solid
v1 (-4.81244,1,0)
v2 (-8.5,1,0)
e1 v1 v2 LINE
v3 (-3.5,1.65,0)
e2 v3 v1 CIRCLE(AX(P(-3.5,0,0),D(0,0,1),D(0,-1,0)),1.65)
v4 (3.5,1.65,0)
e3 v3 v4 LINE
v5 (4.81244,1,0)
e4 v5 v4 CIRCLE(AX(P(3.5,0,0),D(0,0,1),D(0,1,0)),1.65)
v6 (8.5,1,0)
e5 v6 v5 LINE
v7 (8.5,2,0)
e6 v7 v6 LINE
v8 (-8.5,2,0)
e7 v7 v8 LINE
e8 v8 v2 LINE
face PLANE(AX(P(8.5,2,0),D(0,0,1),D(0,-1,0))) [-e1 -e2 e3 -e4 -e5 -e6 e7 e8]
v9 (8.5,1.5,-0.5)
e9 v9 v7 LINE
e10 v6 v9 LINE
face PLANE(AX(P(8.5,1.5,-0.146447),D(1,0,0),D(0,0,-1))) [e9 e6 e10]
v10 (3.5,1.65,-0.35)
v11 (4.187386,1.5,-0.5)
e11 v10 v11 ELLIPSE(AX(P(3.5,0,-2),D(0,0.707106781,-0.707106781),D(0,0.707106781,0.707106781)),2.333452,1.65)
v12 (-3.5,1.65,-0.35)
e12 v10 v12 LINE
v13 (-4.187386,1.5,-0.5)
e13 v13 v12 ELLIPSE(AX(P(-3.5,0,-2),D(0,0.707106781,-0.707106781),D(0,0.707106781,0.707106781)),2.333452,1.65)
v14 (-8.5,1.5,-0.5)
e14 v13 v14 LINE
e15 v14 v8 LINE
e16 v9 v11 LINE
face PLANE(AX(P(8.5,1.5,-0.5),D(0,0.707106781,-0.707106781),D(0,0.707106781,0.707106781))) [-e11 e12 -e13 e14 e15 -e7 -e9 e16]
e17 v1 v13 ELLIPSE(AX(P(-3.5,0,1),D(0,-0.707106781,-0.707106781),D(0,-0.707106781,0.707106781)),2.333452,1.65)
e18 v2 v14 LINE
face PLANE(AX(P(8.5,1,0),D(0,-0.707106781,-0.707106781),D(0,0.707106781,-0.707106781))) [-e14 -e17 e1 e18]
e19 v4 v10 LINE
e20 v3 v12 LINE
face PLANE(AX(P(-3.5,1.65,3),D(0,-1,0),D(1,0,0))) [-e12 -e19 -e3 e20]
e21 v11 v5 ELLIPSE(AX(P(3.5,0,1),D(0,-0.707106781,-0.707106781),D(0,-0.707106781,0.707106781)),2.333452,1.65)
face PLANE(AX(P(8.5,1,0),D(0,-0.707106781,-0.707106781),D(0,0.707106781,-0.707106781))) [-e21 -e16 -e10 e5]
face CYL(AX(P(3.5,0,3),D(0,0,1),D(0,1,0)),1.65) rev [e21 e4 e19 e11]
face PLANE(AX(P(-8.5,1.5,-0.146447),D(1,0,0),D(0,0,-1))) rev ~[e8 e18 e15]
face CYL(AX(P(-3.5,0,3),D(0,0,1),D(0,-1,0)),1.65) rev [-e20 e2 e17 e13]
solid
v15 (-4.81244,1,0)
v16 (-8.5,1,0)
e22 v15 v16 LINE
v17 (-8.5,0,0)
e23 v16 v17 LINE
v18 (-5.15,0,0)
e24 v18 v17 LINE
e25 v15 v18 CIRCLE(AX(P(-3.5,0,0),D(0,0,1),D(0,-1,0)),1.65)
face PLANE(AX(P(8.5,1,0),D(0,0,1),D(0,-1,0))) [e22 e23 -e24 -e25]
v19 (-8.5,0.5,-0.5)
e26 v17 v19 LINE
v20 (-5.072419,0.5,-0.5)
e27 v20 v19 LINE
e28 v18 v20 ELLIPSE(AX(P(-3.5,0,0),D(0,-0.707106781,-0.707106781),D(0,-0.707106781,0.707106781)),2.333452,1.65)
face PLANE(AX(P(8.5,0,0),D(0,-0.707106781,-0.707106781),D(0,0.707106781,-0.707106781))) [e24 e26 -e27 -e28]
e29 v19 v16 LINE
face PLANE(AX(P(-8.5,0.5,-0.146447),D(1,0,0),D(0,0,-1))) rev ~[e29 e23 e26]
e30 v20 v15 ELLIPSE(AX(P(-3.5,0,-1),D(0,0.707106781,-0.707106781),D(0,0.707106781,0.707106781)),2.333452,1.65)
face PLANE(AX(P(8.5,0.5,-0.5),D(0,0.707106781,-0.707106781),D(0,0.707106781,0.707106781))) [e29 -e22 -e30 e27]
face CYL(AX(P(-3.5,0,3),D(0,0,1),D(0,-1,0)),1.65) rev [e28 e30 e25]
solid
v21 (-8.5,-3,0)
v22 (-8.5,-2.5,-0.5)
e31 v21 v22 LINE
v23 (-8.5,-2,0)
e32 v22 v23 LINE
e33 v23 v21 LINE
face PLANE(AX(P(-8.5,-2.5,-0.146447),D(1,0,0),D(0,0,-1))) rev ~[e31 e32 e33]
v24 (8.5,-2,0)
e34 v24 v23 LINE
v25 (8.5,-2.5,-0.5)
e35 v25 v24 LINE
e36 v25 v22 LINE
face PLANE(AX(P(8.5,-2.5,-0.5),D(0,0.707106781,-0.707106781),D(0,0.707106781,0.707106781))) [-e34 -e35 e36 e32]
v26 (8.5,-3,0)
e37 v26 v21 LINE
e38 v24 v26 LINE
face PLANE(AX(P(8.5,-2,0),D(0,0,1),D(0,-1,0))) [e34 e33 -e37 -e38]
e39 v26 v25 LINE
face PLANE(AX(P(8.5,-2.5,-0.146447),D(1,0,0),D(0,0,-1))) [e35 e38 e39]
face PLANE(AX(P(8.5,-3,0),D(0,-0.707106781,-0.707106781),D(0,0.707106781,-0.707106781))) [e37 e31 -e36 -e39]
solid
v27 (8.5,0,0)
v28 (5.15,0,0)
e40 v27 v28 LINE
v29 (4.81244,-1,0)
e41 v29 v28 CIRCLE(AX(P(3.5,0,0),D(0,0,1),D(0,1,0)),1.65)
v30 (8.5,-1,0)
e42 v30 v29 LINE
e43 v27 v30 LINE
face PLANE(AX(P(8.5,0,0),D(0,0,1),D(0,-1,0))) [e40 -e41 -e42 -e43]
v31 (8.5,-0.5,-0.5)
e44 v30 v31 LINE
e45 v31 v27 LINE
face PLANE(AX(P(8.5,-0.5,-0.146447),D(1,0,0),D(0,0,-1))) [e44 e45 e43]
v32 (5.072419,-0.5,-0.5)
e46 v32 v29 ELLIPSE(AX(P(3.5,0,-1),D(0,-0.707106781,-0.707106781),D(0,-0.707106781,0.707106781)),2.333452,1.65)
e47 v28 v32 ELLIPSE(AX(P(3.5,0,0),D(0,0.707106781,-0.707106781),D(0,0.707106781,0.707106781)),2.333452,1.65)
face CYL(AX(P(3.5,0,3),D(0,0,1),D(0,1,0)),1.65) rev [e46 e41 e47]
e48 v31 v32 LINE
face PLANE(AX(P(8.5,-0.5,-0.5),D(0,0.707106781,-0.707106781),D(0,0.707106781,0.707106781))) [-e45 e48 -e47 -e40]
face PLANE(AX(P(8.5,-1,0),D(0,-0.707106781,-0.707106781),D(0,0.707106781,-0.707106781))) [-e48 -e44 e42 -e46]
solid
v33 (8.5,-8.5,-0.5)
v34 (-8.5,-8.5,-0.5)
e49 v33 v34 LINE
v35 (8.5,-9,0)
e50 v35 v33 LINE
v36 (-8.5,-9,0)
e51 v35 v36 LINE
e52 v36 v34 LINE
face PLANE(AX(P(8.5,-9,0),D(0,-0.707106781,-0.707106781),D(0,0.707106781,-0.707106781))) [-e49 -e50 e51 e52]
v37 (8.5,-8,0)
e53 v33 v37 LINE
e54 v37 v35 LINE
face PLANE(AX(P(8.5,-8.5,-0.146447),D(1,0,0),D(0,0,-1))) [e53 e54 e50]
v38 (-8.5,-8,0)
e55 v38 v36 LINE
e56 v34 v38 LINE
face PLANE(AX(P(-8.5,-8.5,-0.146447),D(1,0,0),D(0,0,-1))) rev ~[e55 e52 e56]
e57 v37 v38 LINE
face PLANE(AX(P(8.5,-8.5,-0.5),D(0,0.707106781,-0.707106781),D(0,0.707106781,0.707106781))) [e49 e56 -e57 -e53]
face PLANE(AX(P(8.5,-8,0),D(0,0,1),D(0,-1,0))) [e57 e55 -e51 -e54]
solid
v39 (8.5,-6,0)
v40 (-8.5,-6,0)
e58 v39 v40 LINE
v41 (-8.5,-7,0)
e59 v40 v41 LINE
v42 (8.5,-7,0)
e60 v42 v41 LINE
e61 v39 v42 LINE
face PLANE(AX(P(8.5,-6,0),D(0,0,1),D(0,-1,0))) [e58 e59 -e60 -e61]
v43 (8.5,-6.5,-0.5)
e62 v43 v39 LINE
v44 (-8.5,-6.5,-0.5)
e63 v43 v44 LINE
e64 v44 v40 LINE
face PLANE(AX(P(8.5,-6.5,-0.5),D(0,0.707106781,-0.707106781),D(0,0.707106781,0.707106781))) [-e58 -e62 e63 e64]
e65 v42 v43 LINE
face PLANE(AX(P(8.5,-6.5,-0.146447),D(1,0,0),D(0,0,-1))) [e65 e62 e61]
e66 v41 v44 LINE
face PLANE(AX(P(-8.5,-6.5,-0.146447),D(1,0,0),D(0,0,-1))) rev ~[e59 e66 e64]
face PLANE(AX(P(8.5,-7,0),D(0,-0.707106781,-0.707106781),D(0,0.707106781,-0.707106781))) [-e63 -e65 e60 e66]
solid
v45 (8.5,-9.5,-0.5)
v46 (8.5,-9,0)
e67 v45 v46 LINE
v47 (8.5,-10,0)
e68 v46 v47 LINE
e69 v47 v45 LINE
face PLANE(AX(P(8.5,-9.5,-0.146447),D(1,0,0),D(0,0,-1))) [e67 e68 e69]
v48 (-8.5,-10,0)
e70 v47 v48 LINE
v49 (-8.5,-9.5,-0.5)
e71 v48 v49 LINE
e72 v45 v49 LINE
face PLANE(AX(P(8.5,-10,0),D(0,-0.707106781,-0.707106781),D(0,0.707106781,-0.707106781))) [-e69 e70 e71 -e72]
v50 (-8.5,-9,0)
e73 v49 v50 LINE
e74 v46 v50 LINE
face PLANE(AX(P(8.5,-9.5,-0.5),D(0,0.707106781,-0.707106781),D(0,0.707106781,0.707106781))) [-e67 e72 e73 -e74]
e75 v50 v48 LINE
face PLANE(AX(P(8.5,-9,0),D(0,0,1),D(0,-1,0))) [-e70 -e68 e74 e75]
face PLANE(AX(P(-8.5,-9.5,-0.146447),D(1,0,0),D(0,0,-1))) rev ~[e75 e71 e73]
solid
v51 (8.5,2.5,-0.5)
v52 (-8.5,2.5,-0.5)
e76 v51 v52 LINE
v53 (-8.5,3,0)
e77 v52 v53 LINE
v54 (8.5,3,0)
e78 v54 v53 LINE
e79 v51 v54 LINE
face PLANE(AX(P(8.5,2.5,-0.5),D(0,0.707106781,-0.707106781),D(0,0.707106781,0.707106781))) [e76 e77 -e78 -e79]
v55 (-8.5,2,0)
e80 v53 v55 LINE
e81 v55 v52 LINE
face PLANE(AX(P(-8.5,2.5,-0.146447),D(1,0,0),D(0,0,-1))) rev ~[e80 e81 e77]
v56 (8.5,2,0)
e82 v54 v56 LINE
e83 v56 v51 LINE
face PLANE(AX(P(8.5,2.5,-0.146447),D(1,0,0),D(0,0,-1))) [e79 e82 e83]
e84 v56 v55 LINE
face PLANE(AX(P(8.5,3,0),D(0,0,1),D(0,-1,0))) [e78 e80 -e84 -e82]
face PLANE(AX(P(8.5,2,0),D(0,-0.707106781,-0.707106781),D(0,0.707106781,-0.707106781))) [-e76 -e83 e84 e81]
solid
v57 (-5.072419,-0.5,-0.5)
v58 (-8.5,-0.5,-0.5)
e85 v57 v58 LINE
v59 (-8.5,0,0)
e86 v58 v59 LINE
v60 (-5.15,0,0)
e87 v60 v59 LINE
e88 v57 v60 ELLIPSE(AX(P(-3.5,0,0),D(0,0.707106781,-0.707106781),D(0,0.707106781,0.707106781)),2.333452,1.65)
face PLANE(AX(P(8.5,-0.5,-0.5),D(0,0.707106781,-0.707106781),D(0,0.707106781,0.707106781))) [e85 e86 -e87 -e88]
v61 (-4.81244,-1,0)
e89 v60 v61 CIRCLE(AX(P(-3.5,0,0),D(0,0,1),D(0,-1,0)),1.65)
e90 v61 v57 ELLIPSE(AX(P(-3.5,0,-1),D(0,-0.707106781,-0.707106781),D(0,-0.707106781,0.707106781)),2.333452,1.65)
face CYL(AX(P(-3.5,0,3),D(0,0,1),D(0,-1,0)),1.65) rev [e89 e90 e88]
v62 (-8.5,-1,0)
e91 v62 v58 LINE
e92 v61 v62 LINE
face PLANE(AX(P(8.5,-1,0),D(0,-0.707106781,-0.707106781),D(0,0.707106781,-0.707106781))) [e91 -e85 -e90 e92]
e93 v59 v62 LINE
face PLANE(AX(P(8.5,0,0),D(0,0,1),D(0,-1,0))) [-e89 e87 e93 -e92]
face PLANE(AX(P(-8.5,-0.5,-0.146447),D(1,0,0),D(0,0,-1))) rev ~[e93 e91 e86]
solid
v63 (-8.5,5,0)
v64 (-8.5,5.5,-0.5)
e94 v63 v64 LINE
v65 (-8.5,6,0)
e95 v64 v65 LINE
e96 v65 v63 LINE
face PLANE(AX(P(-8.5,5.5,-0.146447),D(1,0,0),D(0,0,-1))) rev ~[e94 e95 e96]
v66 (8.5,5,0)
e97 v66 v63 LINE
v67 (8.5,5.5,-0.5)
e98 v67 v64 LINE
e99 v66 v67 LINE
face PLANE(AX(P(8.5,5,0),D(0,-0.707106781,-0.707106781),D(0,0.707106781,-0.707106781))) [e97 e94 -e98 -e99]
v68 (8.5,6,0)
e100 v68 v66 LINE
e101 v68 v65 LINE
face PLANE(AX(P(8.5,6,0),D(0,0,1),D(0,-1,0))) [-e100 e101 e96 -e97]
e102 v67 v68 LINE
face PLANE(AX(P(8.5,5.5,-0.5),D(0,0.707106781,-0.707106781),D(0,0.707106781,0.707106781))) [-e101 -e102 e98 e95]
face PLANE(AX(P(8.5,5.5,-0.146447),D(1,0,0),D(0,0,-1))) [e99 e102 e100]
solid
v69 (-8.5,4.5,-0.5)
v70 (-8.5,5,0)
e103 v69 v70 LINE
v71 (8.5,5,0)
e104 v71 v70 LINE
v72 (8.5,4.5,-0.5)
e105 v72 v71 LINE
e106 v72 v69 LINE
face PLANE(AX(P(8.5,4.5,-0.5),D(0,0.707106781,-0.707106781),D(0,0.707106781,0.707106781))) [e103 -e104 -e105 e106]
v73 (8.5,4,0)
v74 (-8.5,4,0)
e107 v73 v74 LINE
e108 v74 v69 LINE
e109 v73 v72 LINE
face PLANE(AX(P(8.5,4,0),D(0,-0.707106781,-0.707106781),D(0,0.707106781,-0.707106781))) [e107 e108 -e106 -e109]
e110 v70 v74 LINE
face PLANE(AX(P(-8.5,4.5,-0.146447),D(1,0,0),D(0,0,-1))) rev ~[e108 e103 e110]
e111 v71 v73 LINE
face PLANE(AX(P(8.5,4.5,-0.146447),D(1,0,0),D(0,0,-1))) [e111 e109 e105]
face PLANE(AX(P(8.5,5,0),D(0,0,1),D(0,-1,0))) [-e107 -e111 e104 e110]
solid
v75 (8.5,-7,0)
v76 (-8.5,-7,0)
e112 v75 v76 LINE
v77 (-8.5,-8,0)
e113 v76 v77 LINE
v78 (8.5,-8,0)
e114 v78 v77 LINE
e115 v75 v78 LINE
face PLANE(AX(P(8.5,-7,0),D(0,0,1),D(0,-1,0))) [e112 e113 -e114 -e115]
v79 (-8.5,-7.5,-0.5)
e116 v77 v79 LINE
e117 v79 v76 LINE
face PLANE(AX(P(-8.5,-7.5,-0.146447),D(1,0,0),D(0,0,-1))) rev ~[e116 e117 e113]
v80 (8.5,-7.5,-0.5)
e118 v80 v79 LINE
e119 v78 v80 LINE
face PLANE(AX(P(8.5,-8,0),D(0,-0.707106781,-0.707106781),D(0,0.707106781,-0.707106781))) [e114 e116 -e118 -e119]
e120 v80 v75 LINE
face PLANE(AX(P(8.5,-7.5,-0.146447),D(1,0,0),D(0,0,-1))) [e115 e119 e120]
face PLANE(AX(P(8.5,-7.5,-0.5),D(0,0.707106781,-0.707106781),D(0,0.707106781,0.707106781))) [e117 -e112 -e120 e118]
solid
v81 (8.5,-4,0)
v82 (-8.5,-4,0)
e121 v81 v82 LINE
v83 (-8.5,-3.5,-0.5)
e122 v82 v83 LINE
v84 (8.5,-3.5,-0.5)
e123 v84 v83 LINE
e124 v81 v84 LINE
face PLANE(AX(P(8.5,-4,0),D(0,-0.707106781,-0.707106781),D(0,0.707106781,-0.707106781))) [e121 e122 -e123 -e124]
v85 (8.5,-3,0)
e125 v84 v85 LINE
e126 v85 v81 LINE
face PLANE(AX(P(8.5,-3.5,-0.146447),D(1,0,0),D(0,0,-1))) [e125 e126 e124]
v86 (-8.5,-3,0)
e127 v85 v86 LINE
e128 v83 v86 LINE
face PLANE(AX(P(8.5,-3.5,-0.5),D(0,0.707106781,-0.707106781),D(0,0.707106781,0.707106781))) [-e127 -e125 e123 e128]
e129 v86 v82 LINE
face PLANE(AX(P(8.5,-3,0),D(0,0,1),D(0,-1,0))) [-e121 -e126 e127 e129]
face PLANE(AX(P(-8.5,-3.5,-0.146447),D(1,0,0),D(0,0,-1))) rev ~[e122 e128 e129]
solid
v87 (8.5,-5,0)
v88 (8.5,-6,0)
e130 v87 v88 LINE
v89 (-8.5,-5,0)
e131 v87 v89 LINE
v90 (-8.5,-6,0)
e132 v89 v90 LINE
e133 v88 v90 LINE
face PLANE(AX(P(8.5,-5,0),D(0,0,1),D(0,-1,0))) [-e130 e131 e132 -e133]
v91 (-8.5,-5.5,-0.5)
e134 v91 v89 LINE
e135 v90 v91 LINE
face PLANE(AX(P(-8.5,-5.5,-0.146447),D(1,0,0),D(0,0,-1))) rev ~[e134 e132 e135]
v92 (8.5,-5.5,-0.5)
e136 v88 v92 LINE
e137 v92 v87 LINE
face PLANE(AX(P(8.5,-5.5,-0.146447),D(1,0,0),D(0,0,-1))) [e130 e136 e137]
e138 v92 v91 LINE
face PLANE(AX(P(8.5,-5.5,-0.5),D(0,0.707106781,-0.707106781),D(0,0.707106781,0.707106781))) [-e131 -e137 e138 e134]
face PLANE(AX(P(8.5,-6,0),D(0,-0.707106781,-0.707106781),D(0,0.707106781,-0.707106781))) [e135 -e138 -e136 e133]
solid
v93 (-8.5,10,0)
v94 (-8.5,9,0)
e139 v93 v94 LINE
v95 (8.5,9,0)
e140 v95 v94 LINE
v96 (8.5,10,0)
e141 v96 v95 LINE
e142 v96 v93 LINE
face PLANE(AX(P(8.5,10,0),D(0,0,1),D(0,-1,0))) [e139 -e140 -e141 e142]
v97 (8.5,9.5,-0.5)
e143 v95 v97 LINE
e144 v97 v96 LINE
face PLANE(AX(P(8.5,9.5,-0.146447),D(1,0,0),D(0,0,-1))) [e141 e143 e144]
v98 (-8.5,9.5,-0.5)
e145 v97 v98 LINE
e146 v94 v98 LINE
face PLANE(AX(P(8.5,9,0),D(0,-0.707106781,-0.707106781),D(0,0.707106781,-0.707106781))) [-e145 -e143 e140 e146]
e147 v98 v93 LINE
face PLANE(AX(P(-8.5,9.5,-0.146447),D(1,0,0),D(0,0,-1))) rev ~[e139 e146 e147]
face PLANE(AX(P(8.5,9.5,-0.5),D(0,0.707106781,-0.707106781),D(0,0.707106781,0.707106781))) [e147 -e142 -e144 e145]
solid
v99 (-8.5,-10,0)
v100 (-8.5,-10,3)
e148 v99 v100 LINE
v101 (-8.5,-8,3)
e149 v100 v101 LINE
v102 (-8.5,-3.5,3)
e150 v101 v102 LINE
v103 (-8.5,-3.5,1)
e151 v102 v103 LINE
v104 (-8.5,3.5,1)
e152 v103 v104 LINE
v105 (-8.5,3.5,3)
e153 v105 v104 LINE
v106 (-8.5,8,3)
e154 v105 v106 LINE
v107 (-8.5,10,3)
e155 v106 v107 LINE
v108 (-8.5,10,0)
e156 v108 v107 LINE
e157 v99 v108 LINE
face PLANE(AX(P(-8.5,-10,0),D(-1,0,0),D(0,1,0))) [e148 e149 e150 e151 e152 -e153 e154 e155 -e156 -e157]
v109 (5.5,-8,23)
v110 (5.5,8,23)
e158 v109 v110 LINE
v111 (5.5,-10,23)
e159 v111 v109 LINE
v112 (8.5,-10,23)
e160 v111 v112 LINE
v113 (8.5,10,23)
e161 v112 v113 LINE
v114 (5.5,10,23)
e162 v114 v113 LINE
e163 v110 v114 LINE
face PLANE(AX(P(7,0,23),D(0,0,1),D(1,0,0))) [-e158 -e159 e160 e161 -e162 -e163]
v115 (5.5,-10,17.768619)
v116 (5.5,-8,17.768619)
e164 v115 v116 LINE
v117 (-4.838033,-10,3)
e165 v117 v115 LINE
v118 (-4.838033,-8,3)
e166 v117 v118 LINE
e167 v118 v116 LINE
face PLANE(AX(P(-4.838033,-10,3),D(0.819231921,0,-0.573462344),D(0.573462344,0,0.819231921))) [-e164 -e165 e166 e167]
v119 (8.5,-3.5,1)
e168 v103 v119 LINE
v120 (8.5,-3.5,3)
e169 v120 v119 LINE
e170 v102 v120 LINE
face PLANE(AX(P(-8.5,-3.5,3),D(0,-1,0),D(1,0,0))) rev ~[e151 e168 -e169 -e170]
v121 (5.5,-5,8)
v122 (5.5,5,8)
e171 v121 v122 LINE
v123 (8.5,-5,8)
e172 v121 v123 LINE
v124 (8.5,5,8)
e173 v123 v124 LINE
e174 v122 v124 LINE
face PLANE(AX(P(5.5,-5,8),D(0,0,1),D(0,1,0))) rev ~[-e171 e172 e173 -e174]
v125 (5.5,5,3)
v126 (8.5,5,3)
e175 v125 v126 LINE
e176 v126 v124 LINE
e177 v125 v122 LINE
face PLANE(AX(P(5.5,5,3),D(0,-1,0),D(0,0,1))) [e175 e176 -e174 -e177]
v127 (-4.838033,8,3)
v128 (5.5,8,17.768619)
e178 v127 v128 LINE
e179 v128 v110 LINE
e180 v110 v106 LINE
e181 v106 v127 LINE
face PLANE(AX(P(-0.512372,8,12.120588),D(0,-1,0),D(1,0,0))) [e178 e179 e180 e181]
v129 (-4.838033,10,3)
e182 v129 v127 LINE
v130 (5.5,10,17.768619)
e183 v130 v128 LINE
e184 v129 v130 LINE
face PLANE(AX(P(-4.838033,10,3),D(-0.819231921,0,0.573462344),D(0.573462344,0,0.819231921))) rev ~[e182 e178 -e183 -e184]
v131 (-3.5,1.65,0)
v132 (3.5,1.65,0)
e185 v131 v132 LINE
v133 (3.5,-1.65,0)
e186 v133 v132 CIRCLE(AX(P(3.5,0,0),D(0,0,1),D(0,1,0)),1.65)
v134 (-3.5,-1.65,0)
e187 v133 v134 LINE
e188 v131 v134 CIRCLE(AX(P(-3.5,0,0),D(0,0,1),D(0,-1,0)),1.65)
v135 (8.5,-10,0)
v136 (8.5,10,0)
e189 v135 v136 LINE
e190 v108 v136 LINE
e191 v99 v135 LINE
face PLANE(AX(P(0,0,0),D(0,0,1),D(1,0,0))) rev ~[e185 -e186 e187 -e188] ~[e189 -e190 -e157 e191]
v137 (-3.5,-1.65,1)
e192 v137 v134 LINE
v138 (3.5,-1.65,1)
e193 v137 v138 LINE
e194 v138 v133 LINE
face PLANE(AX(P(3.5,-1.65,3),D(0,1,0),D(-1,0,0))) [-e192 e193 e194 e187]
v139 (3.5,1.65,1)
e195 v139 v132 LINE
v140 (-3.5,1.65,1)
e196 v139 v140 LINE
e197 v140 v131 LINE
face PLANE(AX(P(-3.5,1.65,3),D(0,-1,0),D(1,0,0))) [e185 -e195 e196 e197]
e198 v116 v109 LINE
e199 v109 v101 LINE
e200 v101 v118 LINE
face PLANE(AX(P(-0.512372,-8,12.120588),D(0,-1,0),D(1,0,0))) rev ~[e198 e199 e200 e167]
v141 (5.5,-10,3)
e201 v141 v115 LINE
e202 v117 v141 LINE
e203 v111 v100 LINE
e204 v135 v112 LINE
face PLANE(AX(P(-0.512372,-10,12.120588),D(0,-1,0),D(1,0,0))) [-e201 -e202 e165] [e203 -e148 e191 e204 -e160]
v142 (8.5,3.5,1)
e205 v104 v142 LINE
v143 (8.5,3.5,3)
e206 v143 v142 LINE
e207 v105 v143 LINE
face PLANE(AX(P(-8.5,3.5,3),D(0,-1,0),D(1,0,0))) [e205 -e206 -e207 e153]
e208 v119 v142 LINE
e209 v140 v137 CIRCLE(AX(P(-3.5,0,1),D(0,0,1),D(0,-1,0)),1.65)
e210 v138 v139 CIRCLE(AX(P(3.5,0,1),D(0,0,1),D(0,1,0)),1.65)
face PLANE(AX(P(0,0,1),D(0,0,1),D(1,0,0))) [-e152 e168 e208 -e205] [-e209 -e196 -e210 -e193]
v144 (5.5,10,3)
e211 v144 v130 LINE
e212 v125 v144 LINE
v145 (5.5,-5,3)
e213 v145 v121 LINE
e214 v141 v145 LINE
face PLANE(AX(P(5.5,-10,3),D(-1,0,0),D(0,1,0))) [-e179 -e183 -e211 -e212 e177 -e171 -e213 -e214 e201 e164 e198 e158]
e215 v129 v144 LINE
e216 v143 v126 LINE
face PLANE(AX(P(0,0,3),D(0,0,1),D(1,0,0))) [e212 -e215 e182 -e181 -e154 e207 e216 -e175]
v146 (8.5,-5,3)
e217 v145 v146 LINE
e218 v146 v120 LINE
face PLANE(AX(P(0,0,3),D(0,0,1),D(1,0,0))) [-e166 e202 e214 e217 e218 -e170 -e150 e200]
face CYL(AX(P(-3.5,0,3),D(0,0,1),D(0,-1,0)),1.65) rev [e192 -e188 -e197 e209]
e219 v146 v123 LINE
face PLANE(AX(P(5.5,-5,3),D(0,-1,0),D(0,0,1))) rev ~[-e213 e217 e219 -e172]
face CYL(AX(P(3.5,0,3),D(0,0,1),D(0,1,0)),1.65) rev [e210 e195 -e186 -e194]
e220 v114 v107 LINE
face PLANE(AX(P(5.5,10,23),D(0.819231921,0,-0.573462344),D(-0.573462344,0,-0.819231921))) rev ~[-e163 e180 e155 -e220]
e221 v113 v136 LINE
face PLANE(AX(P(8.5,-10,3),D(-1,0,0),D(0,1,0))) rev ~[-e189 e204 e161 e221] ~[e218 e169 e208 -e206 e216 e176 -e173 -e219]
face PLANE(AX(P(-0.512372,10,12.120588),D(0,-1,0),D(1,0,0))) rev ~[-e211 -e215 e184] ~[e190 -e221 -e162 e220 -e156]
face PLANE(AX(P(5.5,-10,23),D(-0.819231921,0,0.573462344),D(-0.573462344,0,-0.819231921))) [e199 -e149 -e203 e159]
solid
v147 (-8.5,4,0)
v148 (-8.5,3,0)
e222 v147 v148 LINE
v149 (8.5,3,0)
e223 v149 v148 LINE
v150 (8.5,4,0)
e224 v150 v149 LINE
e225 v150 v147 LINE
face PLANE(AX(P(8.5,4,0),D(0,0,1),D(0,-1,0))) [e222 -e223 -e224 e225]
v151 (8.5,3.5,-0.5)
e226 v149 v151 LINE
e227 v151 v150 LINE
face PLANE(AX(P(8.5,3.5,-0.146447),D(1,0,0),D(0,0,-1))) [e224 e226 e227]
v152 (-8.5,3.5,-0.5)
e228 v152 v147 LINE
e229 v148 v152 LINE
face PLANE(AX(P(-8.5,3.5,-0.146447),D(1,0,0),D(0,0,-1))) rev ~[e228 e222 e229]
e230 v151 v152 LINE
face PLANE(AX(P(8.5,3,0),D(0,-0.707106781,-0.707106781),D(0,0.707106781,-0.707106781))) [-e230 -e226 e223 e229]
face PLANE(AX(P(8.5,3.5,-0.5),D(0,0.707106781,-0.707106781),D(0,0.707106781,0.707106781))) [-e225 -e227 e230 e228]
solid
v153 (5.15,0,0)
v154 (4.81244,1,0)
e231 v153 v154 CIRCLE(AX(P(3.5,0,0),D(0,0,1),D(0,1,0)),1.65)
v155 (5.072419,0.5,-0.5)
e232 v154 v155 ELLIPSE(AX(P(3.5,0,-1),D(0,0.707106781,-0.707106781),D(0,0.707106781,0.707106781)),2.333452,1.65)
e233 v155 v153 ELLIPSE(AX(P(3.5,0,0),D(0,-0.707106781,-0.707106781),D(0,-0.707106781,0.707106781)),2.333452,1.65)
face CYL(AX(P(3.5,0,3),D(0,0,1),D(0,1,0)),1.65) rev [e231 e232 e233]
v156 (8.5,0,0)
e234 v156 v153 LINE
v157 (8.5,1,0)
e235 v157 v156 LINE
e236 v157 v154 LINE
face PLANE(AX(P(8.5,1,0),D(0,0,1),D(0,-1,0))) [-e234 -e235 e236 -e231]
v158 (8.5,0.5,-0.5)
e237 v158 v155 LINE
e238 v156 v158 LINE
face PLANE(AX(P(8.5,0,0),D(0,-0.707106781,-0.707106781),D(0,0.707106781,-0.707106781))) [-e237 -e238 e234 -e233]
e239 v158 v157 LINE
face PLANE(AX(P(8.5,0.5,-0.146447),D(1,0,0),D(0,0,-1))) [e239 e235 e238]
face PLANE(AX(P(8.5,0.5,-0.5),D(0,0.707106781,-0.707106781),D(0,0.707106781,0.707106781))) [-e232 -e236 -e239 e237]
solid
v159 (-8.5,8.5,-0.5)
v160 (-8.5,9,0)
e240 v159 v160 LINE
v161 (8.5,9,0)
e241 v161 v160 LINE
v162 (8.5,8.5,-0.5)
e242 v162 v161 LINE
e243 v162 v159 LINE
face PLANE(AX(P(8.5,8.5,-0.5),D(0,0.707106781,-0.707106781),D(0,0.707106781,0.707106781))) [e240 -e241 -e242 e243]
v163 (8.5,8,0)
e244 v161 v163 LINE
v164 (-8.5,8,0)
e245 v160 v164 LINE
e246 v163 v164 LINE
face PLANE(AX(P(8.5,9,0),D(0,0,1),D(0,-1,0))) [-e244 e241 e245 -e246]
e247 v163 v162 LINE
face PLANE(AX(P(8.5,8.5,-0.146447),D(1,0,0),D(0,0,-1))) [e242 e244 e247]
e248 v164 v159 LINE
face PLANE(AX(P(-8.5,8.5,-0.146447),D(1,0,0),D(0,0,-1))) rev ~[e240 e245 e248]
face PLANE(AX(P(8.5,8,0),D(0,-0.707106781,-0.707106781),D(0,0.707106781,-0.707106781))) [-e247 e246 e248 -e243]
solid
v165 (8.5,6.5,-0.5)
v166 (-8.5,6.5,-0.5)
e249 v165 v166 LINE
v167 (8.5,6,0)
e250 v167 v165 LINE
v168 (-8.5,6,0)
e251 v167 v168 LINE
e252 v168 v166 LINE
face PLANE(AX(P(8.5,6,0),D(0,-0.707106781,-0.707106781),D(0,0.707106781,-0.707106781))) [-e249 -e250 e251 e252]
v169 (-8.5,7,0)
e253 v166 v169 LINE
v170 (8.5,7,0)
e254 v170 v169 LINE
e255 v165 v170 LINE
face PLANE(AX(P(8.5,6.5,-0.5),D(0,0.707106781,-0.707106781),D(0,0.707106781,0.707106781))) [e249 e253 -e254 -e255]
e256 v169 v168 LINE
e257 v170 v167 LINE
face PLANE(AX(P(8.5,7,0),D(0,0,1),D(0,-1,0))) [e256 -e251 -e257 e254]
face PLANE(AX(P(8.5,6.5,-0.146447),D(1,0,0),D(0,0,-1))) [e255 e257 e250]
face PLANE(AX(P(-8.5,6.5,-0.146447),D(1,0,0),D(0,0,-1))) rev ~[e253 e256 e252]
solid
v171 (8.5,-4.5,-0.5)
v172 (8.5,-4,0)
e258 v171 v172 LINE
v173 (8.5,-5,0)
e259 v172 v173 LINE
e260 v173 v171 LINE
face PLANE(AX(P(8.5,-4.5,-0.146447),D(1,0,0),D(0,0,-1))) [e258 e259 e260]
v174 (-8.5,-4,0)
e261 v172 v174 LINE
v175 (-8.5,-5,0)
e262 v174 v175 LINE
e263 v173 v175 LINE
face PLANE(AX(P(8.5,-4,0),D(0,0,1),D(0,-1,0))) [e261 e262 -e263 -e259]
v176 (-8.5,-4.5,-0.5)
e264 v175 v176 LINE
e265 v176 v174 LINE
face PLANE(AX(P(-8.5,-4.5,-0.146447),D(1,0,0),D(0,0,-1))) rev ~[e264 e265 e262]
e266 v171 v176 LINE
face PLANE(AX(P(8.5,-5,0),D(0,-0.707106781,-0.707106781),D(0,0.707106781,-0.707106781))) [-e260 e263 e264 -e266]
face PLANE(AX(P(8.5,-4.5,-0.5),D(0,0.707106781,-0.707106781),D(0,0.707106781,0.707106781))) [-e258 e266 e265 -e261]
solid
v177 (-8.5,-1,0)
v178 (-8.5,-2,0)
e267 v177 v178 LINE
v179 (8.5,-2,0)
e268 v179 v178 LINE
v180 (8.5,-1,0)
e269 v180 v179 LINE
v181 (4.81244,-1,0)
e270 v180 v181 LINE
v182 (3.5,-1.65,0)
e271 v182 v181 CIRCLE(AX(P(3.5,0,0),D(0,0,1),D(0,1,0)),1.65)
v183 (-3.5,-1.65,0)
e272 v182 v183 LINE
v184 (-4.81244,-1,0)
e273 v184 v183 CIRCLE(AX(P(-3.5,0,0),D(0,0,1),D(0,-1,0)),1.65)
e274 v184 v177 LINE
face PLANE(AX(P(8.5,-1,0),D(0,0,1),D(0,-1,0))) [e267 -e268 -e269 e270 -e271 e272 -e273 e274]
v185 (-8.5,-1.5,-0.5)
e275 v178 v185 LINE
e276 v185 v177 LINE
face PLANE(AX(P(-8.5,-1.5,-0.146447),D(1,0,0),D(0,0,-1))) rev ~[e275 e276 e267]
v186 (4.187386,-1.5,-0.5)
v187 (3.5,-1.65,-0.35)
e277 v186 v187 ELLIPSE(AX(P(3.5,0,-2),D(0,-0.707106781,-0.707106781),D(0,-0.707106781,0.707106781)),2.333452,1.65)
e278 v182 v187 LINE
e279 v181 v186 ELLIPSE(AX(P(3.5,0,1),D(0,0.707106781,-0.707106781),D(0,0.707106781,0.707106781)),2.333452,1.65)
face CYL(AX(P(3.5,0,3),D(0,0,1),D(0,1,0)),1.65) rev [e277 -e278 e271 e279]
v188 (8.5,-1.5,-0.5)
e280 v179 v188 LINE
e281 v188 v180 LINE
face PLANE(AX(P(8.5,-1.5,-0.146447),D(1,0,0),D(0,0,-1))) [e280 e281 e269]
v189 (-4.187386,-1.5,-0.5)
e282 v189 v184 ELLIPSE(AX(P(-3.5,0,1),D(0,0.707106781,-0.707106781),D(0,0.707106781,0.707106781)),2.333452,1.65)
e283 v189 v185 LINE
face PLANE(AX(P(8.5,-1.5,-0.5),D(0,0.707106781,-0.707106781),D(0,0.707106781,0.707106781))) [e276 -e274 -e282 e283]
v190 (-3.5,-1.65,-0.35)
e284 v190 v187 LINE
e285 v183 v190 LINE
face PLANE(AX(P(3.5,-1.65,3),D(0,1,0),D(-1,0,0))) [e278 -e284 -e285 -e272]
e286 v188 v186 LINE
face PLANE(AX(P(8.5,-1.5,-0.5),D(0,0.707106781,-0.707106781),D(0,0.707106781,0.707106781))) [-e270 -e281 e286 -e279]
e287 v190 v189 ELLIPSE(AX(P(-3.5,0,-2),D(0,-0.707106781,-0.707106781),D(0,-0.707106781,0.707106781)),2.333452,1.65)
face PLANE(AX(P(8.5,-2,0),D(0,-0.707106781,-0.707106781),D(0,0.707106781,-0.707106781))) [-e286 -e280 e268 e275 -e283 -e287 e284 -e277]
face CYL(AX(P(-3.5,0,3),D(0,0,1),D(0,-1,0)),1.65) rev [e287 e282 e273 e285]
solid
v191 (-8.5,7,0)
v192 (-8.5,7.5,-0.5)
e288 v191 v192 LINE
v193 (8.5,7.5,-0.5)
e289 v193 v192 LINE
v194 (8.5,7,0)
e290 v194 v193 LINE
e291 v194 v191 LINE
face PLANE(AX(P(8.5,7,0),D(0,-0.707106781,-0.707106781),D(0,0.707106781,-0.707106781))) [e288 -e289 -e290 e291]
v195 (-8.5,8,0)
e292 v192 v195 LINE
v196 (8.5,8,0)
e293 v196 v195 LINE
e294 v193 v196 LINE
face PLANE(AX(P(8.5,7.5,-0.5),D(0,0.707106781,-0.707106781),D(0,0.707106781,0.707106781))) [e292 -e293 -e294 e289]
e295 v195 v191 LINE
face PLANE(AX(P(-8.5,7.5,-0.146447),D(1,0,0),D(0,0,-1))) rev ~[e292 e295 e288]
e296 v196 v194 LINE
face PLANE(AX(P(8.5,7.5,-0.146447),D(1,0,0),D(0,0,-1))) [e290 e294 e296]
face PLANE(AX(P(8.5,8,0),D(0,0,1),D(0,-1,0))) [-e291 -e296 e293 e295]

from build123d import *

# Parameters (mm, degrees)
SKETCH1_W              = 17
SKETCH1_H              = 20
BOSS_EXTRUDE1_DEPTH    = 3
SKETCH2_W              = 3
SKETCH2_H              = 20
BOSS_EXTRUDE2_DEPTH    = 20
BOSS_EXTRUDE3_DEPTH    = 2
BOSS_EXTRUDE4_START    = -20
BOSS_EXTRUDE4_DEPTH    = 2
SKETCH4_W              = 5
SKETCH4_H              = 10
CUT_EXTRUDE1_DEPTH     = 12
BOSS_EXTRUDE9_DEPTH    = 17
BOSS_EXTRUDE9_2_DEPTH  = 17
BOSS_EXTRUDE9_3_DEPTH  = 17
BOSS_EXTRUDE9_4_DEPTH  = 17
BOSS_EXTRUDE9_5_DEPTH  = 17
BOSS_EXTRUDE9_6_DEPTH  = 17
BOSS_EXTRUDE9_7_DEPTH  = 17
BOSS_EXTRUDE9_8_DEPTH  = 17
BOSS_EXTRUDE9_9_DEPTH  = 17
BOSS_EXTRUDE9_10_DEPTH = 17
BOSS_EXTRUDE9_11_DEPTH = 17
BOSS_EXTRUDE9_12_DEPTH = 17
BOSS_EXTRUDE9_13_DEPTH = 17
BOSS_EXTRUDE9_14_DEPTH = 17
BOSS_EXTRUDE9_15_DEPTH = 17
BOSS_EXTRUDE9_16_DEPTH = 17
BOSS_EXTRUDE9_17_DEPTH = 17
BOSS_EXTRUDE9_18_DEPTH = 17
BOSS_EXTRUDE9_19_DEPTH = 17
BOSS_EXTRUDE9_20_DEPTH = 17
CUT_EXTRUDE2_DEPTH     = 10
SKETCH8_W              = 17
SKETCH8_H              = 7
CUT_EXTRUDE3_DEPTH     = 2


with BuildPart() as part:
    # Sketch1 → Boss-Extrude1 (new body)
    with BuildSketch(Plane.XY):
        Rectangle(SKETCH1_W, SKETCH1_H)
    extrude(amount=BOSS_EXTRUDE1_DEPTH)

    # Sketch2 → Boss-Extrude2 (add)
    with BuildSketch(Plane.XY.offset(3)):
        with Locations((7, 0)):
            Rectangle(SKETCH2_W, SKETCH2_H)
    extrude(amount=BOSS_EXTRUDE2_DEPTH)

    # Sketch3 → Boss-Extrude3 (add)
    with BuildSketch(Plane.XZ.offset(10)):
        Polygon((5.5, 23), (-8.5, 3), (-4.838033315, 3), (5.5, 17.768619022), align=None)
    extrude(amount=-BOSS_EXTRUDE3_DEPTH)

    # Sketch3<2> → Boss-Extrude4 (add)
    with BuildSketch(Plane.XZ.offset(10).offset(BOSS_EXTRUDE4_START)):
        Polygon((5.5, 23), (-8.5, 3), (-4.838033315, 3), (5.5, 17.768619022), align=None)
    extrude(amount=BOSS_EXTRUDE4_DEPTH)

    # Sketch4 → Cut-Extrude1 (cut)
    with BuildSketch(Plane.ZY.offset(-5.5)):
        with Locations((5.5, 0)):
            Rectangle(SKETCH4_W, SKETCH4_H)
    extrude(amount=-CUT_EXTRUDE1_DEPTH, mode=Mode.SUBTRACT)


with BuildPart() as body_2:
    # Sketch5 → Boss-Extrude9 (new body)
    with BuildSketch(Plane(origin=(8.5, 0, 0), x_dir=(0, 0, -1), z_dir=(1, 0, 0))):
        Polygon((0.5, -9.5), (0, -9), (0, -10), align=None)
    extrude(amount=-BOSS_EXTRUDE9_DEPTH)


with BuildPart() as body_3:
    # Sketch5 → Boss-Extrude9 2 (new body)
    with BuildSketch(Plane(origin=(8.5, 0, 0), x_dir=(0, 0, -1), z_dir=(1, 0, 0))):
        Polygon((0.5, -0.5), (0, 0), (0, -1), align=None)
    extrude(amount=-BOSS_EXTRUDE9_2_DEPTH)


with BuildPart() as body_4:
    # Sketch5 → Boss-Extrude9 3 (new body)
    with BuildSketch(Plane(origin=(8.5, 0, 0), x_dir=(0, 0, -1), z_dir=(1, 0, 0))):
        Polygon((0.5, 0.5), (0, 1), (0, 0), align=None)
    extrude(amount=-BOSS_EXTRUDE9_3_DEPTH)


with BuildPart() as body_5:
    # Sketch5 → Boss-Extrude9 4 (new body)
    with BuildSketch(Plane(origin=(8.5, 0, 0), x_dir=(0, 0, -1), z_dir=(1, 0, 0))):
        Polygon((0.5, 1.5), (0, 2), (0, 1), align=None)
    extrude(amount=-BOSS_EXTRUDE9_4_DEPTH)


with BuildPart() as body_6:
    # Sketch5 → Boss-Extrude9 5 (new body)
    with BuildSketch(Plane(origin=(8.5, 0, 0), x_dir=(0, 0, -1), z_dir=(1, 0, 0))):
        Polygon((0, -8), (0, -9), (0.5, -8.5), align=None)
    extrude(amount=-BOSS_EXTRUDE9_5_DEPTH)


with BuildPart() as body_7:
    # Sketch5 → Boss-Extrude9 6 (new body)
    with BuildSketch(Plane(origin=(8.5, 0, 0), x_dir=(0, 0, -1), z_dir=(1, 0, 0))):
        Polygon((0, -7), (0, -8), (0.5, -7.5), align=None)
    extrude(amount=-BOSS_EXTRUDE9_6_DEPTH)


with BuildPart() as body_8:
    # Sketch5 → Boss-Extrude9 7 (new body)
    with BuildSketch(Plane(origin=(8.5, 0, 0), x_dir=(0, 0, -1), z_dir=(1, 0, 0))):
        Polygon((0, -6), (0, -7), (0.5, -6.5), align=None)
    extrude(amount=-BOSS_EXTRUDE9_7_DEPTH)


with BuildPart() as body_9:
    # Sketch5 → Boss-Extrude9 8 (new body)
    with BuildSketch(Plane(origin=(8.5, 0, 0), x_dir=(0, 0, -1), z_dir=(1, 0, 0))):
        Polygon((0, -5), (0, -6), (0.5, -5.5), align=None)
    extrude(amount=-BOSS_EXTRUDE9_8_DEPTH)


with BuildPart() as body_10:
    # Sketch5 → Boss-Extrude9 9 (new body)
    with BuildSketch(Plane(origin=(8.5, 0, 0), x_dir=(0, 0, -1), z_dir=(1, 0, 0))):
        Polygon((0, -4), (0, -5), (0.5, -4.5), align=None)
    extrude(amount=-BOSS_EXTRUDE9_9_DEPTH)


with BuildPart() as body_11:
    # Sketch5 → Boss-Extrude9 10 (new body)
    with BuildSketch(Plane(origin=(8.5, 0, 0), x_dir=(0, 0, -1), z_dir=(1, 0, 0))):
        Polygon((0, -3), (0, -4), (0.5, -3.5), align=None)
    extrude(amount=-BOSS_EXTRUDE9_10_DEPTH)


with BuildPart() as body_12:
    # Sketch5 → Boss-Extrude9 11 (new body)
    with BuildSketch(Plane(origin=(8.5, 0, 0), x_dir=(0, 0, -1), z_dir=(1, 0, 0))):
        Polygon((0, -2), (0, -3), (0.5, -2.5), align=None)
    extrude(amount=-BOSS_EXTRUDE9_11_DEPTH)


with BuildPart() as body_13:
    # Sketch5 → Boss-Extrude9 12 (new body)
    with BuildSketch(Plane(origin=(8.5, 0, 0), x_dir=(0, 0, -1), z_dir=(1, 0, 0))):
        Polygon((0, -1), (0, -2), (0.5, -1.5), align=None)
    extrude(amount=-BOSS_EXTRUDE9_12_DEPTH)


with BuildPart() as body_14:
    # Sketch5 → Boss-Extrude9 13 (new body)
    with BuildSketch(Plane(origin=(8.5, 0, 0), x_dir=(0, 0, -1), z_dir=(1, 0, 0))):
        Polygon((0, 3), (0, 2), (0.5, 2.5), align=None)
    extrude(amount=-BOSS_EXTRUDE9_13_DEPTH)


with BuildPart() as body_15:
    # Sketch5 → Boss-Extrude9 14 (new body)
    with BuildSketch(Plane(origin=(8.5, 0, 0), x_dir=(0, 0, -1), z_dir=(1, 0, 0))):
        Polygon((0, 4), (0, 3), (0.5, 3.5), align=None)
    extrude(amount=-BOSS_EXTRUDE9_14_DEPTH)


with BuildPart() as body_16:
    # Sketch5 → Boss-Extrude9 15 (new body)
    with BuildSketch(Plane(origin=(8.5, 0, 0), x_dir=(0, 0, -1), z_dir=(1, 0, 0))):
        Polygon((0, 5), (0, 4), (0.5, 4.5), align=None)
    extrude(amount=-BOSS_EXTRUDE9_15_DEPTH)


with BuildPart() as body_17:
    # Sketch5 → Boss-Extrude9 16 (new body)
    with BuildSketch(Plane(origin=(8.5, 0, 0), x_dir=(0, 0, -1), z_dir=(1, 0, 0))):
        Polygon((0, 6), (0, 5), (0.5, 5.5), align=None)
    extrude(amount=-BOSS_EXTRUDE9_16_DEPTH)


with BuildPart() as body_18:
    # Sketch5 → Boss-Extrude9 17 (new body)
    with BuildSketch(Plane(origin=(8.5, 0, 0), x_dir=(0, 0, -1), z_dir=(1, 0, 0))):
        Polygon((0, 7), (0, 6), (0.5, 6.5), align=None)
    extrude(amount=-BOSS_EXTRUDE9_17_DEPTH)


with BuildPart() as body_19:
    # Sketch5 → Boss-Extrude9 18 (new body)
    with BuildSketch(Plane(origin=(8.5, 0, 0), x_dir=(0, 0, -1), z_dir=(1, 0, 0))):
        Polygon((0, 8), (0, 7), (0.5, 7.5), align=None)
    extrude(amount=-BOSS_EXTRUDE9_18_DEPTH)


with BuildPart() as body_20:
    # Sketch5 → Boss-Extrude9 19 (new body)
    with BuildSketch(Plane(origin=(8.5, 0, 0), x_dir=(0, 0, -1), z_dir=(1, 0, 0))):
        Polygon((0, 9), (0, 8), (0.5, 8.5), align=None)
    extrude(amount=-BOSS_EXTRUDE9_19_DEPTH)


with BuildPart() as body_21:
    # Sketch5 → Boss-Extrude9 20 (new body)
    with BuildSketch(Plane(origin=(8.5, 0, 0), x_dir=(0, 0, -1), z_dir=(1, 0, 0))):
        Polygon((0, 10), (0, 9), (0.5, 9.5), align=None)
    extrude(amount=-BOSS_EXTRUDE9_20_DEPTH)


with BuildPart() as cut_extrude2_tool:
    # Sketch6 → Cut-Extrude2 (new body)
    with BuildSketch(Plane.XY.offset(3)):
        with BuildLine():
            Line((3.5, -1.65), (-3.5, -1.65))
            ThreePointArc((-3.5, -1.65), (-5.15, 0), (-3.5, 1.65))
            Line((-3.5, 1.65), (3.5, 1.65))
            ThreePointArc((3.5, 1.65), (5.15, 0), (3.5, -1.65))
        make_face()
    extrude(amount=-CUT_EXTRUDE2_DEPTH)


with BuildPart() as part_1:
    add(part.part)

    # Cut-Extrude2: cut by cut_extrude2_tool
    add(cut_extrude2_tool.part, mode=Mode.SUBTRACT)

    # Sketch8 → Cut-Extrude3 (cut)
    with BuildSketch(Plane.XY.offset(3)):
        Rectangle(SKETCH8_W, SKETCH8_H)
    extrude(amount=-CUT_EXTRUDE3_DEPTH, mode=Mode.SUBTRACT)


with BuildPart() as body_3_1:
    add(body_3.part)

    # Cut-Extrude2: cut by cut_extrude2_tool
    add(cut_extrude2_tool.part, mode=Mode.SUBTRACT)


with BuildPart() as body_4_1:
    add(body_4.part)

    # Cut-Extrude2: cut by cut_extrude2_tool
    add(cut_extrude2_tool.part, mode=Mode.SUBTRACT)


with BuildPart() as body_5_1:
    add(body_5.part)

    # Cut-Extrude2: cut by cut_extrude2_tool
    add(cut_extrude2_tool.part, mode=Mode.SUBTRACT)


with BuildPart() as body_13_1:
    add(body_13.part)

    # Cut-Extrude2: cut by cut_extrude2_tool
    add(cut_extrude2_tool.part, mode=Mode.SUBTRACT)


solid = Compound([body_2.part, body_6.part, body_7.part, body_8.part, body_9.part, body_10.part, body_11.part, body_12.part, body_14.part, body_15.part, body_16.part, body_17.part, body_18.part, body_19.part, body_20.part, body_21.part, part_1.part, body_3_1.part, body_4_1.part, body_5_1.part, body_13_1.part])
